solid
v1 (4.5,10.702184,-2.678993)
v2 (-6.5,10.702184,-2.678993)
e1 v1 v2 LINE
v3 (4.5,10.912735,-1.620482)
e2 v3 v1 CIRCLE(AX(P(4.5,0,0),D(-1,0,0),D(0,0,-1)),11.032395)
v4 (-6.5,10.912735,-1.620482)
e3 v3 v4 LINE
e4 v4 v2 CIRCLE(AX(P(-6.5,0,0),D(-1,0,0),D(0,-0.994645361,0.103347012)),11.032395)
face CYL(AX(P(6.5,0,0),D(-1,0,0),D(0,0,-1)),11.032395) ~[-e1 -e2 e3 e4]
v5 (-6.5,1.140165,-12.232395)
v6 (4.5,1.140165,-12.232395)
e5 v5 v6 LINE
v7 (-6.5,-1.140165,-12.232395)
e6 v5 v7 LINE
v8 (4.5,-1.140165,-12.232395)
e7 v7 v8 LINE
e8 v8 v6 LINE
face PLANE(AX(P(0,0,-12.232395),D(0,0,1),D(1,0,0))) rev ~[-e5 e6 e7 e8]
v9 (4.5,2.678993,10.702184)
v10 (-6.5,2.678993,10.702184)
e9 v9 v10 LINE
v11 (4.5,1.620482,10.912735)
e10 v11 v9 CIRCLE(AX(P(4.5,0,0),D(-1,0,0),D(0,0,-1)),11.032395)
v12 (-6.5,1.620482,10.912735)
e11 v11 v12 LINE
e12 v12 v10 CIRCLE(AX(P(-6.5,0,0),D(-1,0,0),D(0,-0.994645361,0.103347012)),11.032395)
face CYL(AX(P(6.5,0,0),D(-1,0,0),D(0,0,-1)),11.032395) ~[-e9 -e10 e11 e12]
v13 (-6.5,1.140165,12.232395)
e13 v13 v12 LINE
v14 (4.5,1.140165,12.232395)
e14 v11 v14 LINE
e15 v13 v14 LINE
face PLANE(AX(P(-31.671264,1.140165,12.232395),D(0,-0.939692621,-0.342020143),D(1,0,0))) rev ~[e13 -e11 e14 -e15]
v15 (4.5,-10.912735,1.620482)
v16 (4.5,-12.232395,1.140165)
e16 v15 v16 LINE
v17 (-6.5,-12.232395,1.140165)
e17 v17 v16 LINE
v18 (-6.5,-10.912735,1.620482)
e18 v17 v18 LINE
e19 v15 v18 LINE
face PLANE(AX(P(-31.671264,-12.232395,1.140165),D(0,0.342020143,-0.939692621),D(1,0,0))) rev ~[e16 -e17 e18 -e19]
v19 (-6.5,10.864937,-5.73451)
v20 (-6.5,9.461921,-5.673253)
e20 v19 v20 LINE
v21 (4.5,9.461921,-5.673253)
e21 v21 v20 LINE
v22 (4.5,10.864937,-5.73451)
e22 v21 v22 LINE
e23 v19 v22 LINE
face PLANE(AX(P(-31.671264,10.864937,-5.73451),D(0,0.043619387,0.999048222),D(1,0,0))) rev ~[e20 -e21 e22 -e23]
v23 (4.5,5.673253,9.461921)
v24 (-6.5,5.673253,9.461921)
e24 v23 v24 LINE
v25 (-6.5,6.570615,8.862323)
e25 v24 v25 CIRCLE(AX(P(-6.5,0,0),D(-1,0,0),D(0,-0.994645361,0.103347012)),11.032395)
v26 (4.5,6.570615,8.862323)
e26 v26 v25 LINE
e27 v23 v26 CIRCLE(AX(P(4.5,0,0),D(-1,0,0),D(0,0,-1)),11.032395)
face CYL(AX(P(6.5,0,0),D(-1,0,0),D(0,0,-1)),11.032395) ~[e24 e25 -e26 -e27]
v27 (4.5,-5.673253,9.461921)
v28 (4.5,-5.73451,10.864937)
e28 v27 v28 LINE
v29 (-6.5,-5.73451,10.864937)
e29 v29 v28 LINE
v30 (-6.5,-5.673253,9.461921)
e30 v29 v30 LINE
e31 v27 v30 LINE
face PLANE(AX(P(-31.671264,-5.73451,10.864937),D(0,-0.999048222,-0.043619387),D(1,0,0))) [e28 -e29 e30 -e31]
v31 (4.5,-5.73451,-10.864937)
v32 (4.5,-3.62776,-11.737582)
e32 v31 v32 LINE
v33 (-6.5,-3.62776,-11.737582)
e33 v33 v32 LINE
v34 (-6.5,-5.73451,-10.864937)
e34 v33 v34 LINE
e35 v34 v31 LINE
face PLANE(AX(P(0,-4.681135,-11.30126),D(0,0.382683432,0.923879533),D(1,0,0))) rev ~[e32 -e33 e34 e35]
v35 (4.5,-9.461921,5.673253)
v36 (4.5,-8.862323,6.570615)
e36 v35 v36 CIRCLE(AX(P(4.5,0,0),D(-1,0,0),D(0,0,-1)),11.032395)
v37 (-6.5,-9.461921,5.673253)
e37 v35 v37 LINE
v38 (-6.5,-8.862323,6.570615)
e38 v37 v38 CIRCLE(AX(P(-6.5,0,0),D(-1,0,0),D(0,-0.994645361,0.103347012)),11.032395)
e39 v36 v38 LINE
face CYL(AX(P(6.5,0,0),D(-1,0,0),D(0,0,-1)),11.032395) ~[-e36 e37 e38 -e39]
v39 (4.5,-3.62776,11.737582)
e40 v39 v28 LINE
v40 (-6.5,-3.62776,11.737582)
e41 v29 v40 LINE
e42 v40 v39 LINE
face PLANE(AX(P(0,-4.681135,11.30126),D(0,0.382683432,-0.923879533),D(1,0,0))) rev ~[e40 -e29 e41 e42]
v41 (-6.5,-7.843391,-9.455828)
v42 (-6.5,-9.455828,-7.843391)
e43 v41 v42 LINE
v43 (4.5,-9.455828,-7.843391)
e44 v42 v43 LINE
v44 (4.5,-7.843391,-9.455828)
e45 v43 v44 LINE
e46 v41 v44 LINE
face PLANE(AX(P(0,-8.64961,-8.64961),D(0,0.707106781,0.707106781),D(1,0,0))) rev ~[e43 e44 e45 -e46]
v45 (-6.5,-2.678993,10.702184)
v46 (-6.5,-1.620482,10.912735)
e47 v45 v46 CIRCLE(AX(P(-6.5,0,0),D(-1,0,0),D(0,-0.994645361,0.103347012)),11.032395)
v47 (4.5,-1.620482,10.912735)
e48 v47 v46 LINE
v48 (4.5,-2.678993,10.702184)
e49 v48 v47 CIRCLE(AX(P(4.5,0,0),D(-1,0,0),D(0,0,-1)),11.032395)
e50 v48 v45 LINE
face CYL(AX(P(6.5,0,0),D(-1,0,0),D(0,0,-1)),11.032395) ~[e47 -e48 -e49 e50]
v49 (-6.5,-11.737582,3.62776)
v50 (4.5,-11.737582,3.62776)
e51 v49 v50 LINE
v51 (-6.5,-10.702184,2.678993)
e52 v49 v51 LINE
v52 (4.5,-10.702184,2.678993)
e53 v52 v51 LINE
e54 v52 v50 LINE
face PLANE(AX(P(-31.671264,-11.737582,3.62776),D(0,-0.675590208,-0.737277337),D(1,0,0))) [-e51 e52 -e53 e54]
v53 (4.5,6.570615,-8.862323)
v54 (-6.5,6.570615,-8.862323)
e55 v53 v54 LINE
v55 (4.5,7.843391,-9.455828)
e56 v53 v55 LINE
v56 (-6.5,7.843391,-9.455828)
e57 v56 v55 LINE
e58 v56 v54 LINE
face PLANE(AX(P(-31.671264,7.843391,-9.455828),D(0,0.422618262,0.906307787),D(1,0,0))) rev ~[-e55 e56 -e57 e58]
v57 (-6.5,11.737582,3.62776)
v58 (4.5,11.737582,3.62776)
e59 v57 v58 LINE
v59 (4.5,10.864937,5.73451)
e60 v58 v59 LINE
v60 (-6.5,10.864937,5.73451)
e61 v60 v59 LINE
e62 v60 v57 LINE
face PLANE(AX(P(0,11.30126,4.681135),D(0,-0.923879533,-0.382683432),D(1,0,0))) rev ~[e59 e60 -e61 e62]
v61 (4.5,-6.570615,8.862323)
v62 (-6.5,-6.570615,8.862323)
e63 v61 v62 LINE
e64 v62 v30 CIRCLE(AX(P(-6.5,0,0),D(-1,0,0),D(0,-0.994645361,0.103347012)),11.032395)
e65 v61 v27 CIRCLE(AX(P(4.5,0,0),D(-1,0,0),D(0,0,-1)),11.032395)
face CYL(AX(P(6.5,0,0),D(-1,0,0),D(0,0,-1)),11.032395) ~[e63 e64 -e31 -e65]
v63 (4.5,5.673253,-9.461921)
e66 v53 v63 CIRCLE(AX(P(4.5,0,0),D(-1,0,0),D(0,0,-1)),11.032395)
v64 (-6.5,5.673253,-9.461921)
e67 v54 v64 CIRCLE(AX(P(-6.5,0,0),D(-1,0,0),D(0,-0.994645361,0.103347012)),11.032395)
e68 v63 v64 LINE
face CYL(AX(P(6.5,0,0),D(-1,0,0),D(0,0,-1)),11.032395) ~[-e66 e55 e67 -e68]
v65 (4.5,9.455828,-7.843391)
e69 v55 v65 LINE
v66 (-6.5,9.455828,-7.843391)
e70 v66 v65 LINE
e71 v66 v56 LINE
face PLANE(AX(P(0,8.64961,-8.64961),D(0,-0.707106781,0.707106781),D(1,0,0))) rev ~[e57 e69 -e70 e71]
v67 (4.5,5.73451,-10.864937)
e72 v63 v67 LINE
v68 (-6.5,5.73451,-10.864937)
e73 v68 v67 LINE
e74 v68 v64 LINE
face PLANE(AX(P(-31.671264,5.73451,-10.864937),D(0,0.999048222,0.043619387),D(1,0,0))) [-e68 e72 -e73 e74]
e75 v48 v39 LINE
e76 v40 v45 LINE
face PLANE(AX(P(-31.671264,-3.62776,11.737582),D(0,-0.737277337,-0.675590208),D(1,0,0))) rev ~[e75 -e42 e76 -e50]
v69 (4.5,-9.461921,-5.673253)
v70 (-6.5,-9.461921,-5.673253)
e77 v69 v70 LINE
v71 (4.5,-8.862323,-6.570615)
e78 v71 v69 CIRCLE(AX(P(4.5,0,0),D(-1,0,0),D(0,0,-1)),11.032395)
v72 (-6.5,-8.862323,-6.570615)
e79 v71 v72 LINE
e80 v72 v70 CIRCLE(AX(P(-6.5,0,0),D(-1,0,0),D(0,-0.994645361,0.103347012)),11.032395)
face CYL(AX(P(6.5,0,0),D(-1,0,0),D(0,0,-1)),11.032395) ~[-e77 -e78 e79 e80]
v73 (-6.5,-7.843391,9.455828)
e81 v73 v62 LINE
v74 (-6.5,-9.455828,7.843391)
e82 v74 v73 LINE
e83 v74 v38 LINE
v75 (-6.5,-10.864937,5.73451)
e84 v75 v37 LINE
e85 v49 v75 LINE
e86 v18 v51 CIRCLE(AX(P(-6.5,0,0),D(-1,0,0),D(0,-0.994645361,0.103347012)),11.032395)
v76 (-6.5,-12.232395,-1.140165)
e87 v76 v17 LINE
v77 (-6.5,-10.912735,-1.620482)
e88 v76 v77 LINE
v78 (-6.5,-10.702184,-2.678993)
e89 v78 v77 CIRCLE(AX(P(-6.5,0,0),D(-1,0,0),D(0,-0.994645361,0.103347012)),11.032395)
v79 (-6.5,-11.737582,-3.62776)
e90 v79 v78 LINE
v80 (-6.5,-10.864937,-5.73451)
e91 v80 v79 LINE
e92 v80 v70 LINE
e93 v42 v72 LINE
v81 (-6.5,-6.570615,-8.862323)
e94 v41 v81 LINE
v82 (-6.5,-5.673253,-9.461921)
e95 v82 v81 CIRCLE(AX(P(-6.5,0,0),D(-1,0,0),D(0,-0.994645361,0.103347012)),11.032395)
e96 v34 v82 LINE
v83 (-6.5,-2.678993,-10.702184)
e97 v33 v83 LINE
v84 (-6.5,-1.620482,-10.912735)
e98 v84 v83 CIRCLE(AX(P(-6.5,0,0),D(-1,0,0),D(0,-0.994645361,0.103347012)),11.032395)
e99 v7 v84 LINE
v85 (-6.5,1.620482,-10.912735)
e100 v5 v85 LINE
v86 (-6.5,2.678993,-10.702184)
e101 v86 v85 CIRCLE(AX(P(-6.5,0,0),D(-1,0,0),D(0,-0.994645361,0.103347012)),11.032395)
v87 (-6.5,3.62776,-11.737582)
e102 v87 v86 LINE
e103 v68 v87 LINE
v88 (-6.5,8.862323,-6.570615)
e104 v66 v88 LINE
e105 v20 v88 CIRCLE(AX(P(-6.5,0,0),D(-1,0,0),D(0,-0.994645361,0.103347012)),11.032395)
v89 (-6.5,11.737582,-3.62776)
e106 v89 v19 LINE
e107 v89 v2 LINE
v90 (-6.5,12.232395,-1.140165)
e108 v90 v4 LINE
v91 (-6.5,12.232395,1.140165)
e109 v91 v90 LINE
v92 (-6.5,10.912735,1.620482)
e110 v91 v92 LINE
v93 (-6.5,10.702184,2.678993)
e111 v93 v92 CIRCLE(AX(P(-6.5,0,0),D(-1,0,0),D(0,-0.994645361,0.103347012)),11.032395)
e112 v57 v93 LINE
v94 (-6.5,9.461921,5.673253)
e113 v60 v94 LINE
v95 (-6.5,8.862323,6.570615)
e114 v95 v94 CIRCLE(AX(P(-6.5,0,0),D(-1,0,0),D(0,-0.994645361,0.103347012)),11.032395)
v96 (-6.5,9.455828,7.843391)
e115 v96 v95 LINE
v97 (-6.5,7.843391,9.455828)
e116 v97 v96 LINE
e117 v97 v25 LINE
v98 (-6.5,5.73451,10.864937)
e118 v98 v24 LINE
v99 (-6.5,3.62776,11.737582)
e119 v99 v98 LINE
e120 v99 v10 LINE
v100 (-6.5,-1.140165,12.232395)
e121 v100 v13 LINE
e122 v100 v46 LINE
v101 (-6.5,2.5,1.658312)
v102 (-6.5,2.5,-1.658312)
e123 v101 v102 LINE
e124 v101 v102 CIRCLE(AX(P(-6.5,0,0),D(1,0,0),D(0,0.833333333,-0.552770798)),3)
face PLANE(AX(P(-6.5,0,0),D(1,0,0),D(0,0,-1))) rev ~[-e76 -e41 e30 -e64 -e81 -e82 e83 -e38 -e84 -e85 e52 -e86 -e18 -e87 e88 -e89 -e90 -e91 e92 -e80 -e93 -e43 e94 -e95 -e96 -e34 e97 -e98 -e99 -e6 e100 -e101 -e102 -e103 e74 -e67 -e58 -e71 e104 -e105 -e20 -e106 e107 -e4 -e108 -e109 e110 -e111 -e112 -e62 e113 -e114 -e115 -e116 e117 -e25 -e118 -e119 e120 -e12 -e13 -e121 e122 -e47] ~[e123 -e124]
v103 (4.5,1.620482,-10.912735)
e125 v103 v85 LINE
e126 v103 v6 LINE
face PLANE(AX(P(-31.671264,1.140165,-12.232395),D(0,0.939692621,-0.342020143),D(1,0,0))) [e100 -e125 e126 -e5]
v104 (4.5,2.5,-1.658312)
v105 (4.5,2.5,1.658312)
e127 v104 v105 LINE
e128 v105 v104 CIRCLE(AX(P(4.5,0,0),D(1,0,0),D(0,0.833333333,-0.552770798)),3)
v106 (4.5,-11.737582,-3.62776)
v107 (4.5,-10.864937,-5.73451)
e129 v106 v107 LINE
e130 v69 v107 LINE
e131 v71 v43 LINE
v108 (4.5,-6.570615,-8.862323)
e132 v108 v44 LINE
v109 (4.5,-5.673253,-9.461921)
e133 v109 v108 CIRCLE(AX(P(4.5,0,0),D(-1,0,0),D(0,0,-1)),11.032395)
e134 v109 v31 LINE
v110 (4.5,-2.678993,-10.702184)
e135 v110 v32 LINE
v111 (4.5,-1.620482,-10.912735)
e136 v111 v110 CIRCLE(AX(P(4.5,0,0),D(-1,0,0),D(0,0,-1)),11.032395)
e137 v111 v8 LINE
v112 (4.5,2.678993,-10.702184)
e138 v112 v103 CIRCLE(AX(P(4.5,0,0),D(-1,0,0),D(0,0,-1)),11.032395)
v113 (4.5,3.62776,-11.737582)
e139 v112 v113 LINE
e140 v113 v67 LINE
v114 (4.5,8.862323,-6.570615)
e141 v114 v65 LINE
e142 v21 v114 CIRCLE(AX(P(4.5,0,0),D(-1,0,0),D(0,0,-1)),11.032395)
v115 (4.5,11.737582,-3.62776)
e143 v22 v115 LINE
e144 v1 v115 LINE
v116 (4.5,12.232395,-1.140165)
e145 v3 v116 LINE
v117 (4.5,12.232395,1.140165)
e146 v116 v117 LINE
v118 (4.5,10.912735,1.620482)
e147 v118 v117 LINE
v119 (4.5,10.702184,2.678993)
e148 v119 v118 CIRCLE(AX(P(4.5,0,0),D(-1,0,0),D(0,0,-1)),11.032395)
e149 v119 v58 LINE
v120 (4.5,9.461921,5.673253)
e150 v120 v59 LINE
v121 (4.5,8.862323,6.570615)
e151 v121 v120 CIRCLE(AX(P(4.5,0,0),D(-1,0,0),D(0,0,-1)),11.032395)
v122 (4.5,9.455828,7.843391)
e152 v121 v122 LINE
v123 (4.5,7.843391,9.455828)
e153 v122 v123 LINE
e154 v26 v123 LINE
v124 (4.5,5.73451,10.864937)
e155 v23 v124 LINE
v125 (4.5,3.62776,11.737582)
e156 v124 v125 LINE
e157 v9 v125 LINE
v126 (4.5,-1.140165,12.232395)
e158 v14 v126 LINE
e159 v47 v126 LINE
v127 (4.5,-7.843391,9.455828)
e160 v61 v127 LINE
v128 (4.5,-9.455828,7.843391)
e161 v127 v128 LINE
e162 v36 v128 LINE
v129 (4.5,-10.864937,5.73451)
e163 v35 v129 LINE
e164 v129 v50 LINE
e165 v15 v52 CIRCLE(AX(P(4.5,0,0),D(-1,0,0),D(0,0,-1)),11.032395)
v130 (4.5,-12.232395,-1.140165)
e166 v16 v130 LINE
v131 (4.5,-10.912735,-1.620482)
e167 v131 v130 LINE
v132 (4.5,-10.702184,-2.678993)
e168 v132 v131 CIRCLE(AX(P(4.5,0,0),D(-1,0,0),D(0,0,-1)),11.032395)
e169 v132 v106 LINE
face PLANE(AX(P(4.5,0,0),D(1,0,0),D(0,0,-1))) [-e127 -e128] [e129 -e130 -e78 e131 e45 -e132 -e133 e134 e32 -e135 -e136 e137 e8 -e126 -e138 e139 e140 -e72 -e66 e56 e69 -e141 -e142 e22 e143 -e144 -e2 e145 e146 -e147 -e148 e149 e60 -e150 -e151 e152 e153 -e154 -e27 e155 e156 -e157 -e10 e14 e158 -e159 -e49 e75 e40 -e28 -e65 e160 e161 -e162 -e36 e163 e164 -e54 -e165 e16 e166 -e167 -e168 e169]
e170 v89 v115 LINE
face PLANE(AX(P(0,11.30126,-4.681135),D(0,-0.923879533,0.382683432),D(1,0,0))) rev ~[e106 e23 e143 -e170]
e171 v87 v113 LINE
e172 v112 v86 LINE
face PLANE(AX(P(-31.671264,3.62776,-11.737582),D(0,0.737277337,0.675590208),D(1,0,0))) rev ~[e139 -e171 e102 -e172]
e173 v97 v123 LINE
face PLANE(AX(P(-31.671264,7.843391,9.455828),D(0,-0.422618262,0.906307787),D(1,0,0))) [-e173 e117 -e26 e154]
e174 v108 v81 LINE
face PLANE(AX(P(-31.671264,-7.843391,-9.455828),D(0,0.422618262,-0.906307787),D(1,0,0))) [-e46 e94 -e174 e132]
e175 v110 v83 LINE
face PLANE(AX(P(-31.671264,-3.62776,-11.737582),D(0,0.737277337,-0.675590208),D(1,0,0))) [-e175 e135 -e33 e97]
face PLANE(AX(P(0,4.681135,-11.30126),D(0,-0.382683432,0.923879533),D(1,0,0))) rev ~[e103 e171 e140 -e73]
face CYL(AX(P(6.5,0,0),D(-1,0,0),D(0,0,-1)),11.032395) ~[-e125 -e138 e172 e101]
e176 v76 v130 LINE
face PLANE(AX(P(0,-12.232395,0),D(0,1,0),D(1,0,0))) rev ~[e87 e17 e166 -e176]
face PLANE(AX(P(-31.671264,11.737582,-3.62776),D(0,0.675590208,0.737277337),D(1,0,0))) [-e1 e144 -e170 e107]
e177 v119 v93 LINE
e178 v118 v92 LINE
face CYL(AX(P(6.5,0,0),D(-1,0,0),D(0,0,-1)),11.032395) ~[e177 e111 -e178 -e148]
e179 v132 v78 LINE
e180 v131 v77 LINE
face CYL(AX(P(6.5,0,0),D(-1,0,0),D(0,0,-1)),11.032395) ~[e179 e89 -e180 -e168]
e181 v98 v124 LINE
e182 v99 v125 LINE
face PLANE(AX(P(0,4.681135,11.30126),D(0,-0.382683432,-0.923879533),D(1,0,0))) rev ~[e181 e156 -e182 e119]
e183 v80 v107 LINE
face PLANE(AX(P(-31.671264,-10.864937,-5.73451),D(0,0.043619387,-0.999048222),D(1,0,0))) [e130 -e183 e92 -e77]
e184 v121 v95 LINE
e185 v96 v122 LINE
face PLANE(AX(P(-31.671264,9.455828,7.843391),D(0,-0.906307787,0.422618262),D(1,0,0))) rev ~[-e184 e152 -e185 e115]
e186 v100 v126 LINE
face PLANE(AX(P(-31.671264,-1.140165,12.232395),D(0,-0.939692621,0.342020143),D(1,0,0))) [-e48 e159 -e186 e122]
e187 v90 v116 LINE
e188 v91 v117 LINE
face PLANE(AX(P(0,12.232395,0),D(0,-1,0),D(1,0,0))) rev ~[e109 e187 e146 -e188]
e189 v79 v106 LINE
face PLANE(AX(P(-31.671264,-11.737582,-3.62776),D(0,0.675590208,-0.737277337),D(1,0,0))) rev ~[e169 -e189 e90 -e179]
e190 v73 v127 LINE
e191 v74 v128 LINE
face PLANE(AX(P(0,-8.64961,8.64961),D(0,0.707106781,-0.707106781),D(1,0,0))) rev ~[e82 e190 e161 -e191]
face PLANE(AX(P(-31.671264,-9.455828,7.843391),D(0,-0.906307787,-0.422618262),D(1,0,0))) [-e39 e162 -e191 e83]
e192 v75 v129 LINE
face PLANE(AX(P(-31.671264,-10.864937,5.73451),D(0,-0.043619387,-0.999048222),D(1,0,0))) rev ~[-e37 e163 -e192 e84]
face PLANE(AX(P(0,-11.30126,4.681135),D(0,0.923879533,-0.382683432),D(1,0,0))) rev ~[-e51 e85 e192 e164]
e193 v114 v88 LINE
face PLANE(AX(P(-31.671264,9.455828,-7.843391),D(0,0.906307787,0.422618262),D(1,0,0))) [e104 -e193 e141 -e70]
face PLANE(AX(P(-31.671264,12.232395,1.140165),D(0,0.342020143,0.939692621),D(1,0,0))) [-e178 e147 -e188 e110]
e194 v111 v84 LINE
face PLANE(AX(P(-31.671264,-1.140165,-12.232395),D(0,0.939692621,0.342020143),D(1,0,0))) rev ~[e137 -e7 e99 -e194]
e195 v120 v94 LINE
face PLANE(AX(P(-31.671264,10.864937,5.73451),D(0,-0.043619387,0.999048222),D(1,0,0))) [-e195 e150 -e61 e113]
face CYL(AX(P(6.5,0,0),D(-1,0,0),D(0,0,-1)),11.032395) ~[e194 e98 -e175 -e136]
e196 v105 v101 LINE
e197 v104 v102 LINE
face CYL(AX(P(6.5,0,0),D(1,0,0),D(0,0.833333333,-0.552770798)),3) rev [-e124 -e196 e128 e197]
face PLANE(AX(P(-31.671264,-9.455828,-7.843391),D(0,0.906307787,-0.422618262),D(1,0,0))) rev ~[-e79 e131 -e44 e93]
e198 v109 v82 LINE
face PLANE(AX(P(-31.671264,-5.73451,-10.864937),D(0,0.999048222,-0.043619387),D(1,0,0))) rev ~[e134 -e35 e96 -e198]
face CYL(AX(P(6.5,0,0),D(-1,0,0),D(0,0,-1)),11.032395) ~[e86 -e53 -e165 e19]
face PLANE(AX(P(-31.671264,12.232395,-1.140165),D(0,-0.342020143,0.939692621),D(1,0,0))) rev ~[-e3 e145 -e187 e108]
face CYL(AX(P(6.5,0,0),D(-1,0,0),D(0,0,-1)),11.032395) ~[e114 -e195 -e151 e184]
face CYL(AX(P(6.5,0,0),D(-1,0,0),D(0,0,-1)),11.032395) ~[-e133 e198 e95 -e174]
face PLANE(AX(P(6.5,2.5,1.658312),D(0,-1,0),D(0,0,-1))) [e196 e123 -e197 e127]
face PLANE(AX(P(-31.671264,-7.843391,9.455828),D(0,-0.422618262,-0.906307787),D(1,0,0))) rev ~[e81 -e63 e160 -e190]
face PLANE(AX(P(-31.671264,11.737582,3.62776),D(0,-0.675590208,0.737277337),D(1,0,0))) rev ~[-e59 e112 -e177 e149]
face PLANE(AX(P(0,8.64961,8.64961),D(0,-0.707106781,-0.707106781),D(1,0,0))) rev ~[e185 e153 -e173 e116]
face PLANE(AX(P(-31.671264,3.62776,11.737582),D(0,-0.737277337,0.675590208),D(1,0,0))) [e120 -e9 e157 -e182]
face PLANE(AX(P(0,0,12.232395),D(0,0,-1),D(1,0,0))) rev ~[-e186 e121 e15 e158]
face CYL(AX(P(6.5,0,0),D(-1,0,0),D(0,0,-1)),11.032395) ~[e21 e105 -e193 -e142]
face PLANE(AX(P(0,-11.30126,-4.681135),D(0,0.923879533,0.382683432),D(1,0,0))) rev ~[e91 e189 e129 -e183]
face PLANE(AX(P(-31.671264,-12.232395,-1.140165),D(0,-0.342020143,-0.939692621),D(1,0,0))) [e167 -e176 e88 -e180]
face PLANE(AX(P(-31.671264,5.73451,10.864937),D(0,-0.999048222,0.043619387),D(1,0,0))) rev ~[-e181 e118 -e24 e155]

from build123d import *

# Parameters (mm, degrees)
RIB1_REACH         = 26.171
SKETCH5_WALL_W     = 63.342527862
SKETCH5_WALL_H     = 2.28033022
RIB1_DRAFT_ANGLE   = 20
RIB2_REACH         = 26.171
SKETCH6_WALL_W     = 63.342527862
SKETCH6_WALL_H     = 2.28033022
RIB2_DRAFT_ANGLE   = 20
RIB3_REACH         = 26.171
SKETCH7_WALL_W     = 63.342527862
SKETCH7_WALL_H     = 2.28033022
RIB3_DRAFT_ANGLE   = 20
RIB4_REACH         = 26.171
SKETCH8_WALL_W     = 63.342527862
SKETCH8_WALL_H     = 2.28033022
RIB4_DRAFT_ANGLE   = 20
RIB5_REACH         = 26.171
SKETCH9_WALL_W     = 63.342527862
SKETCH9_WALL_H     = 2.28033022
RIB5_DRAFT_ANGLE   = 20
RIB6_REACH         = 26.171
SKETCH10_WALL_W    = 63.342527862
SKETCH10_WALL_H    = 2.28033022
RIB6_DRAFT_ANGLE   = 20
RIB7_REACH         = 26.171
SKETCH11_WALL_W    = 63.342527862
SKETCH11_WALL_H    = 2.28033022
RIB7_DRAFT_ANGLE   = 20
RIB8_REACH         = 26.171
SKETCH12_WALL_W    = 63.342527862
SKETCH12_WALL_H    = 2.28033022
RIB8_DRAFT_ANGLE   = 20
RIB9_REACH         = 26.171
SKETCH13_WALL_W    = 63.342527862
SKETCH13_WALL_H    = 2.28033022
RIB9_DRAFT_ANGLE   = 20
RIB10_REACH        = 26.171
SKETCH14_WALL_W    = 63.342527862
SKETCH14_WALL_H    = 2.28033022
RIB10_DRAFT_ANGLE  = 20
RIB11_REACH        = 26.171
SKETCH15_WALL_W    = 63.342527862
SKETCH15_WALL_H    = 2.28033022
RIB11_DRAFT_ANGLE  = 20
RIB12_REACH        = 26.171
SKETCH16_WALL_W    = 63.342527862
SKETCH16_WALL_H    = 2.28033022
RIB12_DRAFT_ANGLE  = 20
RIB13_REACH        = 26.171
SKETCH17_WALL_W    = 63.342527862
SKETCH17_WALL_H    = 2.28033022
RIB13_DRAFT_ANGLE  = 20
RIB14_REACH        = 26.171
SKETCH18_WALL_W    = 63.342527862
SKETCH18_WALL_H    = 2.28033022
RIB14_DRAFT_ANGLE  = 20
RIB15_REACH        = 26.171
SKETCH19_WALL_W    = 63.342527862
SKETCH19_WALL_H    = 2.28033022
RIB15_DRAFT_ANGLE  = 20
RIB16_REACH        = 26.171
SKETCH20_WALL_W    = 63.342527862
SKETCH20_WALL_H    = 2.28033022
RIB16_DRAFT_ANGLE  = 20
SKETCH22_R         = 1.5
CUT_EXTRUDE3_DEPTH = 28.712812921
SKETCH21_R         = 20.000403523
CUT_EXTRUDE1_DEPTH = 28.147743921
CUT_EXTRUDE2_START = 13
SKETCH21_2_R       = 20.000403523
CUT_EXTRUDE2_DEPTH = 15.147743921
CUT_EXTRUDE4_DEPTH = 22.639385313
SKETCH24_R         = 18.96161632
CUT_EXTRUDE5_DEPTH = 2


with BuildPart() as part:
    # Sketch1 → Revolve1 (revolve)
    with BuildSketch(Plane.XY, mode=Mode.PRIVATE) as revolve1_sk:
        Polygon((-7.5, 12.3), (-7.5, 0), (7.5, 0), (7.5, 12.3), (8.5, 15.5), (7.5, 16), (6.5, 12.3), (6.5, 11.032395447), (-6.5, 11.032395447), (-6.5, 12.3), (-7.5, 16), (-8.5, 15.5), align=None)
    revolve(revolve1_sk.sketch.rotate(Axis((-8.5, 0, 0), (1, 0, 0)), 270), axis=Axis((-8.5, 0, 0), (1, 0, 0)))

    # Sketch5 wall → Rib1 (add, up to next)
    with BuildSketch(Plane(origin=(0, -12.232395447, 0), x_dir=(1, 0, 0), z_dir=(0, 1, 0)), mode=Mode.PRIVATE) as rib1_sk1:
        Rectangle(SKETCH5_WALL_W, SKETCH5_WALL_H)
    rib1_tool1 = extrude(rib1_sk1.sketch, amount=RIB1_REACH, mode=Mode.PRIVATE) - part.part
    add(rib1_tool1.solids().sort_by_distance((0, -12.232395447, 0))[0])

    # Rib1 draft
    rib1_draft_faces = [part.faces().sort_by_distance(p)[0] for p in [
        (0, -11.732395447, -1.14016511),
        (0, -11.732395447, 1.14016511),
    ]]
    draft(rib1_draft_faces, Plane.XZ.offset(12.232395447), RIB1_DRAFT_ANGLE)

    # Sketch6 wall → Rib2 (add, up to next)
    with BuildSketch(Plane.XY.offset(-12.232395447), mode=Mode.PRIVATE) as rib2_sk1:
        Rectangle(SKETCH6_WALL_W, SKETCH6_WALL_H)
    rib2_tool1 = extrude(rib2_sk1.sketch, amount=RIB2_REACH, mode=Mode.PRIVATE) - part.part
    add(rib2_tool1.solids().sort_by_distance((0, 0, -12.232395447))[0])

    # Rib2 draft
    rib2_draft_faces = [part.faces().sort_by_distance(p)[0] for p in [
        (0, 1.14016511, -11.732395447),
        (0, -1.14016511, -11.732395447),
    ]]
    draft(rib2_draft_faces, Plane(origin=(0, 0, -12.232395447), x_dir=(1, 0, 0), z_dir=(0, 0, -1)), RIB2_DRAFT_ANGLE)

    # Sketch7 wall → Rib3 (add, up to next)
    with BuildSketch(Plane.XZ.offset(-12.232395447), mode=Mode.PRIVATE) as rib3_sk1:
        Rectangle(SKETCH7_WALL_W, SKETCH7_WALL_H)
    rib3_tool1 = extrude(rib3_sk1.sketch, amount=RIB3_REACH, mode=Mode.PRIVATE) - part.part
    add(rib3_tool1.solids().sort_by_distance((0, 12.232395447, 0))[0])

    # Rib3 draft
    rib3_draft_faces = [part.faces().sort_by_distance(p)[0] for p in [
        (0, 11.732395447, 1.14016511),
        (0, 11.732395447, -1.14016511),
    ]]
    draft(rib3_draft_faces, Plane(origin=(0, 12.232395447, 0), x_dir=(1, 0, 0), z_dir=(0, 1, 0)), RIB3_DRAFT_ANGLE)

    # Sketch8 wall → Rib4 (add, up to next)
    with BuildSketch(Plane(origin=(0, 0, 12.232395447), x_dir=(1, 0, 0), z_dir=(0, 0, -1)), mode=Mode.PRIVATE) as rib4_sk1:
        Rectangle(SKETCH8_WALL_W, SKETCH8_WALL_H)
    rib4_tool1 = extrude(rib4_sk1.sketch, amount=RIB4_REACH, mode=Mode.PRIVATE) - part.part
    add(rib4_tool1.solids().sort_by_distance((0, 0, 12.232395447))[0])

    # Rib4 draft
    rib4_draft_faces = [part.faces().sort_by_distance(p)[0] for p in [
        (0, -1.14016511, 11.732395447),
        (0, 1.14016511, 11.732395447),
    ]]
    draft(rib4_draft_faces, Plane.XY.offset(12.232395447), RIB4_DRAFT_ANGLE)

    # Sketch9 wall → Rib5 (add, up to next)
    with BuildSketch(Plane(origin=(0, 8.649609771, 8.649609771), x_dir=(1, 0, 0), z_dir=(0, -0.707106781187, -0.707106781187)), mode=Mode.PRIVATE) as rib5_sk1:
        Rectangle(SKETCH9_WALL_W, SKETCH9_WALL_H)
    rib5_tool1 = extrude(rib5_sk1.sketch, amount=RIB5_REACH, mode=Mode.PRIVATE) - part.part
    add(rib5_tool1.solids().sort_by_distance((0, 8.649609771, 8.649609771))[0])

    # Rib5 draft
    rib5_draft_faces = [part.faces().sort_by_distance(p)[0] for p in [
        (0, 7.4898379, 9.102274861),
        (0, 9.102274861, 7.4898379),
    ]]
    draft(rib5_draft_faces, Plane(origin=(0, 8.649609771, 8.649609771), x_dir=(1, 0, 0), z_dir=(0, 0.707106781187, 0.707106781187)), RIB5_DRAFT_ANGLE)

    # Sketch10 wall → Rib6 (add, up to next)
    with BuildSketch(Plane(origin=(0, 11.301259787, 4.681135076), x_dir=(1, 0, 0), z_dir=(0, -0.923879532511, -0.382683432365)), mode=Mode.PRIVATE) as rib6_sk1:
        Rectangle(SKETCH10_WALL_W, SKETCH10_WALL_H)
    rib6_tool1 = extrude(rib6_sk1.sketch, amount=RIB6_REACH, mode=Mode.PRIVATE) - part.part
    add(rib6_tool1.solids().sort_by_distance((0, 11.301259787, 4.681135076))[0])

    # Rib6 draft
    rib6_draft_faces = [part.faces().sort_by_distance(p)[0] for p in [
        (0, 10.402997723, 5.543168569),
        (0, 11.275642318, 3.436418151),
    ]]
    draft(rib6_draft_faces, Plane(origin=(0, 11.301259787, 4.681135076), x_dir=(1, 0, 0), z_dir=(0, 0.923879532511, 0.382683432365)), RIB6_DRAFT_ANGLE)

    # Sketch11 wall → Rib7 (add, up to next)
    with BuildSketch(Plane(origin=(0, 4.681135076, -11.301259787), x_dir=(1, 0, 0), z_dir=(0, -0.382683432365, 0.923879532511)), mode=Mode.PRIVATE) as rib7_sk1:
        Rectangle(SKETCH11_WALL_W, SKETCH11_WALL_H)
    rib7_tool1 = extrude(rib7_sk1.sketch, amount=RIB7_REACH, mode=Mode.PRIVATE) - part.part
    add(rib7_tool1.solids().sort_by_distance((0, 4.681135076, -11.301259787))[0])

    # Rib7 draft
    rib7_draft_faces = [part.faces().sort_by_distance(p)[0] for p in [
        (0, 5.543168569, -10.402997723),
        (0, 3.436418151, -11.275642318),
    ]]
    draft(rib7_draft_faces, Plane(origin=(0, 4.681135076, -11.301259787), x_dir=(1, 0, 0), z_dir=(0, 0.382683432365, -0.923879532511)), RIB7_DRAFT_ANGLE)

    # Sketch12 wall → Rib8 (add, up to next)
    with BuildSketch(Plane(origin=(0, 4.681135076, 11.301259787), x_dir=(1, 0, 0), z_dir=(0, -0.382683432365, -0.923879532511)), mode=Mode.PRIVATE) as rib8_sk1:
        Rectangle(SKETCH12_WALL_W, SKETCH12_WALL_H)
    rib8_tool1 = extrude(rib8_sk1.sketch, amount=RIB8_REACH, mode=Mode.PRIVATE) - part.part
    add(rib8_tool1.solids().sort_by_distance((0, 4.681135076, 11.301259787))[0])

    # Rib8 draft
    rib8_draft_faces = [part.faces().sort_by_distance(p)[0] for p in [
        (0, 3.436418151, 11.275642318),
        (0, 5.543168569, 10.402997723),
    ]]
    draft(rib8_draft_faces, Plane(origin=(0, 4.681135076, 11.301259787), x_dir=(1, 0, 0), z_dir=(0, 0.382683432365, 0.923879532511)), RIB8_DRAFT_ANGLE)

    # Sketch13 wall → Rib9 (add, up to next)
    with BuildSketch(Plane(origin=(0, -8.649609771, 8.649609771), x_dir=(1, 0, 0), z_dir=(0, 0.707106781187, -0.707106781187)), mode=Mode.PRIVATE) as rib9_sk1:
        Rectangle(SKETCH13_WALL_W, SKETCH13_WALL_H)
    rib9_tool1 = extrude(rib9_sk1.sketch, amount=RIB9_REACH, mode=Mode.PRIVATE) - part.part
    add(rib9_tool1.solids().sort_by_distance((0, -8.649609771, 8.649609771))[0])

    # Rib9 draft
    rib9_draft_faces = [part.faces().sort_by_distance(p)[0] for p in [
        (0, -9.102274861, 7.4898379),
        (0, -7.4898379, 9.102274861),
    ]]
    draft(rib9_draft_faces, Plane(origin=(0, -8.649609771, 8.649609771), x_dir=(1, 0, 0), z_dir=(0, -0.707106781187, 0.707106781187)), RIB9_DRAFT_ANGLE)

    # Sketch14 wall → Rib10 (add, up to next)
    with BuildSketch(Plane(origin=(0, 8.649609771, -8.649609771), x_dir=(1, 0, 0), z_dir=(0, -0.707106781187, 0.707106781187)), mode=Mode.PRIVATE) as rib10_sk1:
        Rectangle(SKETCH14_WALL_W, SKETCH14_WALL_H)
    rib10_tool1 = extrude(rib10_sk1.sketch, amount=RIB10_REACH, mode=Mode.PRIVATE) - part.part
    add(rib10_tool1.solids().sort_by_distance((0, 8.649609771, -8.649609771))[0])

    # Rib10 draft
    rib10_draft_faces = [part.faces().sort_by_distance(p)[0] for p in [
        (0, 9.102274861, -7.4898379),
        (0, 7.4898379, -9.102274861),
    ]]
    draft(rib10_draft_faces, Plane(origin=(0, 8.649609771, -8.649609771), x_dir=(1, 0, 0), z_dir=(0, 0.707106781187, -0.707106781187)), RIB10_DRAFT_ANGLE)

    # Sketch15 wall → Rib11 (add, up to next)
    with BuildSketch(Plane(origin=(0, -8.649609771, -8.649609771), x_dir=(1, 0, 0), z_dir=(0, 0.707106781187, 0.707106781187)), mode=Mode.PRIVATE) as rib11_sk1:
        Rectangle(SKETCH15_WALL_W, SKETCH15_WALL_H)
    rib11_tool1 = extrude(rib11_sk1.sketch, amount=RIB11_REACH, mode=Mode.PRIVATE) - part.part
    add(rib11_tool1.solids().sort_by_distance((0, -8.649609771, -8.649609771))[0])

    # Rib11 draft
    rib11_draft_faces = [part.faces().sort_by_distance(p)[0] for p in [
        (0, -7.4898379, -9.102274861),
        (0, -9.102274861, -7.4898379),
    ]]
    draft(rib11_draft_faces, Plane(origin=(0, -8.649609771, -8.649609771), x_dir=(1, 0, 0), z_dir=(0, -0.707106781187, -0.707106781187)), RIB11_DRAFT_ANGLE)

    # Sketch16 wall → Rib12 (add, up to next)
    with BuildSketch(Plane(origin=(0, 11.301259787, -4.681135076), x_dir=(1, 0, 0), z_dir=(0, -0.923879532511, 0.382683432365)), mode=Mode.PRIVATE) as rib12_sk1:
        Rectangle(SKETCH16_WALL_W, SKETCH16_WALL_H)
    rib12_tool1 = extrude(rib12_sk1.sketch, amount=RIB12_REACH, mode=Mode.PRIVATE) - part.part
    add(rib12_tool1.solids().sort_by_distance((0, 11.301259787, -4.681135076))[0])

    # Rib12 draft
    rib12_draft_faces = [part.faces().sort_by_distance(p)[0] for p in [
        (0, 11.275642318, -3.436418151),
        (0, 10.402997723, -5.543168569),
    ]]
    draft(rib12_draft_faces, Plane(origin=(0, 11.301259787, -4.681135076), x_dir=(1, 0, 0), z_dir=(0, 0.923879532511, -0.382683432365)), RIB12_DRAFT_ANGLE)

    # Sketch17 wall → Rib13 (add, up to next)
    with BuildSketch(Plane(origin=(0, -11.301259787, -4.681135076), x_dir=(1, 0, 0), z_dir=(0, 0.923879532511, 0.382683432365)), mode=Mode.PRIVATE) as rib13_sk1:
        Rectangle(SKETCH17_WALL_W, SKETCH17_WALL_H)
    rib13_tool1 = extrude(rib13_sk1.sketch, amount=RIB13_REACH, mode=Mode.PRIVATE) - part.part
    add(rib13_tool1.solids().sort_by_distance((0, -11.301259787, -4.681135076))[0])

    # Rib13 draft
    rib13_draft_faces = [part.faces().sort_by_distance(p)[0] for p in [
        (0, -10.402997723, -5.543168569),
        (0, -11.275642318, -3.436418151),
    ]]
    draft(rib13_draft_faces, Plane(origin=(0, -11.301259787, -4.681135076), x_dir=(1, 0, 0), z_dir=(0, -0.923879532511, -0.382683432365)), RIB13_DRAFT_ANGLE)

    # Sketch18 wall → Rib14 (add, up to next)
    with BuildSketch(Plane(origin=(0, -4.681135076, 11.301259787), x_dir=(1, 0, 0), z_dir=(0, 0.382683432365, -0.923879532511)), mode=Mode.PRIVATE) as rib14_sk1:
        Rectangle(SKETCH18_WALL_W, SKETCH18_WALL_H)
    rib14_tool1 = extrude(rib14_sk1.sketch, amount=RIB14_REACH, mode=Mode.PRIVATE) - part.part
    add(rib14_tool1.solids().sort_by_distance((0, -4.681135076, 11.301259787))[0])

    # Rib14 draft
    rib14_draft_faces = [part.faces().sort_by_distance(p)[0] for p in [
        (0, -5.543168569, 10.402997723),
        (0, -3.436418151, 11.275642318),
    ]]
    draft(rib14_draft_faces, Plane(origin=(0, -4.681135076, 11.301259787), x_dir=(1, 0, 0), z_dir=(0, -0.382683432365, 0.923879532511)), RIB14_DRAFT_ANGLE)

    # Sketch19 wall → Rib15 (add, up to next)
    with BuildSketch(Plane(origin=(0, -4.681135076, -11.301259787), x_dir=(1, 0, 0), z_dir=(0, 0.382683432365, 0.923879532511)), mode=Mode.PRIVATE) as rib15_sk1:
        Rectangle(SKETCH19_WALL_W, SKETCH19_WALL_H)
    rib15_tool1 = extrude(rib15_sk1.sketch, amount=RIB15_REACH, mode=Mode.PRIVATE) - part.part
    add(rib15_tool1.solids().sort_by_distance((0, -4.681135076, -11.301259787))[0])

    # Rib15 draft
    rib15_draft_faces = [part.faces().sort_by_distance(p)[0] for p in [
        (0, -3.436418151, -11.275642318),
        (0, -5.543168569, -10.402997723),
    ]]
    draft(rib15_draft_faces, Plane(origin=(0, -4.681135076, -11.301259787), x_dir=(1, 0, 0), z_dir=(0, -0.382683432365, -0.923879532511)), RIB15_DRAFT_ANGLE)

    # Sketch20 wall → Rib16 (add, up to next)
    with BuildSketch(Plane(origin=(0, -11.301259787, 4.681135076), x_dir=(1, 0, 0), z_dir=(0, 0.923879532511, -0.382683432365)), mode=Mode.PRIVATE) as rib16_sk1:
        Rectangle(SKETCH20_WALL_W, SKETCH20_WALL_H)
    rib16_tool1 = extrude(rib16_sk1.sketch, amount=RIB16_REACH, mode=Mode.PRIVATE) - part.part
    add(rib16_tool1.solids().sort_by_distance((0, -11.301259787, 4.681135076))[0])

    # Rib16 draft
    rib16_draft_faces = [part.faces().sort_by_distance(p)[0] for p in [
        (0, -11.275642318, 3.436418151),
        (0, -10.402997723, 5.543168569),
    ]]
    draft(rib16_draft_faces, Plane(origin=(0, -11.301259787, 4.681135076), x_dir=(1, 0, 0), z_dir=(0, -0.923879532511, 0.382683432365)), RIB16_DRAFT_ANGLE)

    # Sketch22 → Cut-Extrude3 (cut, through all)
    with BuildSketch(Plane(origin=(7.5, 0, 0), x_dir=(0, 0, -1), z_dir=(1, 0, 0))):
        Circle(SKETCH22_R)
    extrude(amount=-CUT_EXTRUDE3_DEPTH, mode=Mode.SUBTRACT)

    # Sketch21 → Cut-Extrude1 (cut, through all)
    with BuildSketch(Plane(origin=(-6.5, 0, 0), x_dir=(0, 0, -1), z_dir=(1, 0, 0))):
        Circle(SKETCH21_R)
    extrude(amount=-CUT_EXTRUDE1_DEPTH, mode=Mode.SUBTRACT)

    # Sketch21<2> → Cut-Extrude2 (cut, through all)
    with BuildSketch(Plane(origin=(-6.5, 0, 0), x_dir=(0, 0, -1), z_dir=(1, 0, 0)).offset(CUT_EXTRUDE2_START)):
        Circle(SKETCH21_2_R)
    extrude(amount=CUT_EXTRUDE2_DEPTH, mode=Mode.SUBTRACT)

    # Sketch23 → Cut-Extrude4 (cut, through all)
    with BuildSketch(Plane(origin=(6.5, 0, 0), x_dir=(0, 0, -1), z_dir=(1, 0, 0))):
        with BuildLine():
            Line((-1.658312395, 2.5), (1.658312395, 2.5))
            ThreePointArc((1.658312395, 2.5), (0, -3), (-1.658312395, 2.5))
        make_face()
    extrude(amount=-CUT_EXTRUDE4_DEPTH, mode=Mode.SUBTRACT)

    # Sketch24 → Cut-Extrude5 (cut)
    with BuildSketch(Plane(origin=(6.5, 0, 0), x_dir=(0, 0, -1), z_dir=(1, 0, 0))):
        Circle(SKETCH24_R)
    extrude(amount=-CUT_EXTRUDE5_DEPTH, mode=Mode.SUBTRACT)


solid = part.part
